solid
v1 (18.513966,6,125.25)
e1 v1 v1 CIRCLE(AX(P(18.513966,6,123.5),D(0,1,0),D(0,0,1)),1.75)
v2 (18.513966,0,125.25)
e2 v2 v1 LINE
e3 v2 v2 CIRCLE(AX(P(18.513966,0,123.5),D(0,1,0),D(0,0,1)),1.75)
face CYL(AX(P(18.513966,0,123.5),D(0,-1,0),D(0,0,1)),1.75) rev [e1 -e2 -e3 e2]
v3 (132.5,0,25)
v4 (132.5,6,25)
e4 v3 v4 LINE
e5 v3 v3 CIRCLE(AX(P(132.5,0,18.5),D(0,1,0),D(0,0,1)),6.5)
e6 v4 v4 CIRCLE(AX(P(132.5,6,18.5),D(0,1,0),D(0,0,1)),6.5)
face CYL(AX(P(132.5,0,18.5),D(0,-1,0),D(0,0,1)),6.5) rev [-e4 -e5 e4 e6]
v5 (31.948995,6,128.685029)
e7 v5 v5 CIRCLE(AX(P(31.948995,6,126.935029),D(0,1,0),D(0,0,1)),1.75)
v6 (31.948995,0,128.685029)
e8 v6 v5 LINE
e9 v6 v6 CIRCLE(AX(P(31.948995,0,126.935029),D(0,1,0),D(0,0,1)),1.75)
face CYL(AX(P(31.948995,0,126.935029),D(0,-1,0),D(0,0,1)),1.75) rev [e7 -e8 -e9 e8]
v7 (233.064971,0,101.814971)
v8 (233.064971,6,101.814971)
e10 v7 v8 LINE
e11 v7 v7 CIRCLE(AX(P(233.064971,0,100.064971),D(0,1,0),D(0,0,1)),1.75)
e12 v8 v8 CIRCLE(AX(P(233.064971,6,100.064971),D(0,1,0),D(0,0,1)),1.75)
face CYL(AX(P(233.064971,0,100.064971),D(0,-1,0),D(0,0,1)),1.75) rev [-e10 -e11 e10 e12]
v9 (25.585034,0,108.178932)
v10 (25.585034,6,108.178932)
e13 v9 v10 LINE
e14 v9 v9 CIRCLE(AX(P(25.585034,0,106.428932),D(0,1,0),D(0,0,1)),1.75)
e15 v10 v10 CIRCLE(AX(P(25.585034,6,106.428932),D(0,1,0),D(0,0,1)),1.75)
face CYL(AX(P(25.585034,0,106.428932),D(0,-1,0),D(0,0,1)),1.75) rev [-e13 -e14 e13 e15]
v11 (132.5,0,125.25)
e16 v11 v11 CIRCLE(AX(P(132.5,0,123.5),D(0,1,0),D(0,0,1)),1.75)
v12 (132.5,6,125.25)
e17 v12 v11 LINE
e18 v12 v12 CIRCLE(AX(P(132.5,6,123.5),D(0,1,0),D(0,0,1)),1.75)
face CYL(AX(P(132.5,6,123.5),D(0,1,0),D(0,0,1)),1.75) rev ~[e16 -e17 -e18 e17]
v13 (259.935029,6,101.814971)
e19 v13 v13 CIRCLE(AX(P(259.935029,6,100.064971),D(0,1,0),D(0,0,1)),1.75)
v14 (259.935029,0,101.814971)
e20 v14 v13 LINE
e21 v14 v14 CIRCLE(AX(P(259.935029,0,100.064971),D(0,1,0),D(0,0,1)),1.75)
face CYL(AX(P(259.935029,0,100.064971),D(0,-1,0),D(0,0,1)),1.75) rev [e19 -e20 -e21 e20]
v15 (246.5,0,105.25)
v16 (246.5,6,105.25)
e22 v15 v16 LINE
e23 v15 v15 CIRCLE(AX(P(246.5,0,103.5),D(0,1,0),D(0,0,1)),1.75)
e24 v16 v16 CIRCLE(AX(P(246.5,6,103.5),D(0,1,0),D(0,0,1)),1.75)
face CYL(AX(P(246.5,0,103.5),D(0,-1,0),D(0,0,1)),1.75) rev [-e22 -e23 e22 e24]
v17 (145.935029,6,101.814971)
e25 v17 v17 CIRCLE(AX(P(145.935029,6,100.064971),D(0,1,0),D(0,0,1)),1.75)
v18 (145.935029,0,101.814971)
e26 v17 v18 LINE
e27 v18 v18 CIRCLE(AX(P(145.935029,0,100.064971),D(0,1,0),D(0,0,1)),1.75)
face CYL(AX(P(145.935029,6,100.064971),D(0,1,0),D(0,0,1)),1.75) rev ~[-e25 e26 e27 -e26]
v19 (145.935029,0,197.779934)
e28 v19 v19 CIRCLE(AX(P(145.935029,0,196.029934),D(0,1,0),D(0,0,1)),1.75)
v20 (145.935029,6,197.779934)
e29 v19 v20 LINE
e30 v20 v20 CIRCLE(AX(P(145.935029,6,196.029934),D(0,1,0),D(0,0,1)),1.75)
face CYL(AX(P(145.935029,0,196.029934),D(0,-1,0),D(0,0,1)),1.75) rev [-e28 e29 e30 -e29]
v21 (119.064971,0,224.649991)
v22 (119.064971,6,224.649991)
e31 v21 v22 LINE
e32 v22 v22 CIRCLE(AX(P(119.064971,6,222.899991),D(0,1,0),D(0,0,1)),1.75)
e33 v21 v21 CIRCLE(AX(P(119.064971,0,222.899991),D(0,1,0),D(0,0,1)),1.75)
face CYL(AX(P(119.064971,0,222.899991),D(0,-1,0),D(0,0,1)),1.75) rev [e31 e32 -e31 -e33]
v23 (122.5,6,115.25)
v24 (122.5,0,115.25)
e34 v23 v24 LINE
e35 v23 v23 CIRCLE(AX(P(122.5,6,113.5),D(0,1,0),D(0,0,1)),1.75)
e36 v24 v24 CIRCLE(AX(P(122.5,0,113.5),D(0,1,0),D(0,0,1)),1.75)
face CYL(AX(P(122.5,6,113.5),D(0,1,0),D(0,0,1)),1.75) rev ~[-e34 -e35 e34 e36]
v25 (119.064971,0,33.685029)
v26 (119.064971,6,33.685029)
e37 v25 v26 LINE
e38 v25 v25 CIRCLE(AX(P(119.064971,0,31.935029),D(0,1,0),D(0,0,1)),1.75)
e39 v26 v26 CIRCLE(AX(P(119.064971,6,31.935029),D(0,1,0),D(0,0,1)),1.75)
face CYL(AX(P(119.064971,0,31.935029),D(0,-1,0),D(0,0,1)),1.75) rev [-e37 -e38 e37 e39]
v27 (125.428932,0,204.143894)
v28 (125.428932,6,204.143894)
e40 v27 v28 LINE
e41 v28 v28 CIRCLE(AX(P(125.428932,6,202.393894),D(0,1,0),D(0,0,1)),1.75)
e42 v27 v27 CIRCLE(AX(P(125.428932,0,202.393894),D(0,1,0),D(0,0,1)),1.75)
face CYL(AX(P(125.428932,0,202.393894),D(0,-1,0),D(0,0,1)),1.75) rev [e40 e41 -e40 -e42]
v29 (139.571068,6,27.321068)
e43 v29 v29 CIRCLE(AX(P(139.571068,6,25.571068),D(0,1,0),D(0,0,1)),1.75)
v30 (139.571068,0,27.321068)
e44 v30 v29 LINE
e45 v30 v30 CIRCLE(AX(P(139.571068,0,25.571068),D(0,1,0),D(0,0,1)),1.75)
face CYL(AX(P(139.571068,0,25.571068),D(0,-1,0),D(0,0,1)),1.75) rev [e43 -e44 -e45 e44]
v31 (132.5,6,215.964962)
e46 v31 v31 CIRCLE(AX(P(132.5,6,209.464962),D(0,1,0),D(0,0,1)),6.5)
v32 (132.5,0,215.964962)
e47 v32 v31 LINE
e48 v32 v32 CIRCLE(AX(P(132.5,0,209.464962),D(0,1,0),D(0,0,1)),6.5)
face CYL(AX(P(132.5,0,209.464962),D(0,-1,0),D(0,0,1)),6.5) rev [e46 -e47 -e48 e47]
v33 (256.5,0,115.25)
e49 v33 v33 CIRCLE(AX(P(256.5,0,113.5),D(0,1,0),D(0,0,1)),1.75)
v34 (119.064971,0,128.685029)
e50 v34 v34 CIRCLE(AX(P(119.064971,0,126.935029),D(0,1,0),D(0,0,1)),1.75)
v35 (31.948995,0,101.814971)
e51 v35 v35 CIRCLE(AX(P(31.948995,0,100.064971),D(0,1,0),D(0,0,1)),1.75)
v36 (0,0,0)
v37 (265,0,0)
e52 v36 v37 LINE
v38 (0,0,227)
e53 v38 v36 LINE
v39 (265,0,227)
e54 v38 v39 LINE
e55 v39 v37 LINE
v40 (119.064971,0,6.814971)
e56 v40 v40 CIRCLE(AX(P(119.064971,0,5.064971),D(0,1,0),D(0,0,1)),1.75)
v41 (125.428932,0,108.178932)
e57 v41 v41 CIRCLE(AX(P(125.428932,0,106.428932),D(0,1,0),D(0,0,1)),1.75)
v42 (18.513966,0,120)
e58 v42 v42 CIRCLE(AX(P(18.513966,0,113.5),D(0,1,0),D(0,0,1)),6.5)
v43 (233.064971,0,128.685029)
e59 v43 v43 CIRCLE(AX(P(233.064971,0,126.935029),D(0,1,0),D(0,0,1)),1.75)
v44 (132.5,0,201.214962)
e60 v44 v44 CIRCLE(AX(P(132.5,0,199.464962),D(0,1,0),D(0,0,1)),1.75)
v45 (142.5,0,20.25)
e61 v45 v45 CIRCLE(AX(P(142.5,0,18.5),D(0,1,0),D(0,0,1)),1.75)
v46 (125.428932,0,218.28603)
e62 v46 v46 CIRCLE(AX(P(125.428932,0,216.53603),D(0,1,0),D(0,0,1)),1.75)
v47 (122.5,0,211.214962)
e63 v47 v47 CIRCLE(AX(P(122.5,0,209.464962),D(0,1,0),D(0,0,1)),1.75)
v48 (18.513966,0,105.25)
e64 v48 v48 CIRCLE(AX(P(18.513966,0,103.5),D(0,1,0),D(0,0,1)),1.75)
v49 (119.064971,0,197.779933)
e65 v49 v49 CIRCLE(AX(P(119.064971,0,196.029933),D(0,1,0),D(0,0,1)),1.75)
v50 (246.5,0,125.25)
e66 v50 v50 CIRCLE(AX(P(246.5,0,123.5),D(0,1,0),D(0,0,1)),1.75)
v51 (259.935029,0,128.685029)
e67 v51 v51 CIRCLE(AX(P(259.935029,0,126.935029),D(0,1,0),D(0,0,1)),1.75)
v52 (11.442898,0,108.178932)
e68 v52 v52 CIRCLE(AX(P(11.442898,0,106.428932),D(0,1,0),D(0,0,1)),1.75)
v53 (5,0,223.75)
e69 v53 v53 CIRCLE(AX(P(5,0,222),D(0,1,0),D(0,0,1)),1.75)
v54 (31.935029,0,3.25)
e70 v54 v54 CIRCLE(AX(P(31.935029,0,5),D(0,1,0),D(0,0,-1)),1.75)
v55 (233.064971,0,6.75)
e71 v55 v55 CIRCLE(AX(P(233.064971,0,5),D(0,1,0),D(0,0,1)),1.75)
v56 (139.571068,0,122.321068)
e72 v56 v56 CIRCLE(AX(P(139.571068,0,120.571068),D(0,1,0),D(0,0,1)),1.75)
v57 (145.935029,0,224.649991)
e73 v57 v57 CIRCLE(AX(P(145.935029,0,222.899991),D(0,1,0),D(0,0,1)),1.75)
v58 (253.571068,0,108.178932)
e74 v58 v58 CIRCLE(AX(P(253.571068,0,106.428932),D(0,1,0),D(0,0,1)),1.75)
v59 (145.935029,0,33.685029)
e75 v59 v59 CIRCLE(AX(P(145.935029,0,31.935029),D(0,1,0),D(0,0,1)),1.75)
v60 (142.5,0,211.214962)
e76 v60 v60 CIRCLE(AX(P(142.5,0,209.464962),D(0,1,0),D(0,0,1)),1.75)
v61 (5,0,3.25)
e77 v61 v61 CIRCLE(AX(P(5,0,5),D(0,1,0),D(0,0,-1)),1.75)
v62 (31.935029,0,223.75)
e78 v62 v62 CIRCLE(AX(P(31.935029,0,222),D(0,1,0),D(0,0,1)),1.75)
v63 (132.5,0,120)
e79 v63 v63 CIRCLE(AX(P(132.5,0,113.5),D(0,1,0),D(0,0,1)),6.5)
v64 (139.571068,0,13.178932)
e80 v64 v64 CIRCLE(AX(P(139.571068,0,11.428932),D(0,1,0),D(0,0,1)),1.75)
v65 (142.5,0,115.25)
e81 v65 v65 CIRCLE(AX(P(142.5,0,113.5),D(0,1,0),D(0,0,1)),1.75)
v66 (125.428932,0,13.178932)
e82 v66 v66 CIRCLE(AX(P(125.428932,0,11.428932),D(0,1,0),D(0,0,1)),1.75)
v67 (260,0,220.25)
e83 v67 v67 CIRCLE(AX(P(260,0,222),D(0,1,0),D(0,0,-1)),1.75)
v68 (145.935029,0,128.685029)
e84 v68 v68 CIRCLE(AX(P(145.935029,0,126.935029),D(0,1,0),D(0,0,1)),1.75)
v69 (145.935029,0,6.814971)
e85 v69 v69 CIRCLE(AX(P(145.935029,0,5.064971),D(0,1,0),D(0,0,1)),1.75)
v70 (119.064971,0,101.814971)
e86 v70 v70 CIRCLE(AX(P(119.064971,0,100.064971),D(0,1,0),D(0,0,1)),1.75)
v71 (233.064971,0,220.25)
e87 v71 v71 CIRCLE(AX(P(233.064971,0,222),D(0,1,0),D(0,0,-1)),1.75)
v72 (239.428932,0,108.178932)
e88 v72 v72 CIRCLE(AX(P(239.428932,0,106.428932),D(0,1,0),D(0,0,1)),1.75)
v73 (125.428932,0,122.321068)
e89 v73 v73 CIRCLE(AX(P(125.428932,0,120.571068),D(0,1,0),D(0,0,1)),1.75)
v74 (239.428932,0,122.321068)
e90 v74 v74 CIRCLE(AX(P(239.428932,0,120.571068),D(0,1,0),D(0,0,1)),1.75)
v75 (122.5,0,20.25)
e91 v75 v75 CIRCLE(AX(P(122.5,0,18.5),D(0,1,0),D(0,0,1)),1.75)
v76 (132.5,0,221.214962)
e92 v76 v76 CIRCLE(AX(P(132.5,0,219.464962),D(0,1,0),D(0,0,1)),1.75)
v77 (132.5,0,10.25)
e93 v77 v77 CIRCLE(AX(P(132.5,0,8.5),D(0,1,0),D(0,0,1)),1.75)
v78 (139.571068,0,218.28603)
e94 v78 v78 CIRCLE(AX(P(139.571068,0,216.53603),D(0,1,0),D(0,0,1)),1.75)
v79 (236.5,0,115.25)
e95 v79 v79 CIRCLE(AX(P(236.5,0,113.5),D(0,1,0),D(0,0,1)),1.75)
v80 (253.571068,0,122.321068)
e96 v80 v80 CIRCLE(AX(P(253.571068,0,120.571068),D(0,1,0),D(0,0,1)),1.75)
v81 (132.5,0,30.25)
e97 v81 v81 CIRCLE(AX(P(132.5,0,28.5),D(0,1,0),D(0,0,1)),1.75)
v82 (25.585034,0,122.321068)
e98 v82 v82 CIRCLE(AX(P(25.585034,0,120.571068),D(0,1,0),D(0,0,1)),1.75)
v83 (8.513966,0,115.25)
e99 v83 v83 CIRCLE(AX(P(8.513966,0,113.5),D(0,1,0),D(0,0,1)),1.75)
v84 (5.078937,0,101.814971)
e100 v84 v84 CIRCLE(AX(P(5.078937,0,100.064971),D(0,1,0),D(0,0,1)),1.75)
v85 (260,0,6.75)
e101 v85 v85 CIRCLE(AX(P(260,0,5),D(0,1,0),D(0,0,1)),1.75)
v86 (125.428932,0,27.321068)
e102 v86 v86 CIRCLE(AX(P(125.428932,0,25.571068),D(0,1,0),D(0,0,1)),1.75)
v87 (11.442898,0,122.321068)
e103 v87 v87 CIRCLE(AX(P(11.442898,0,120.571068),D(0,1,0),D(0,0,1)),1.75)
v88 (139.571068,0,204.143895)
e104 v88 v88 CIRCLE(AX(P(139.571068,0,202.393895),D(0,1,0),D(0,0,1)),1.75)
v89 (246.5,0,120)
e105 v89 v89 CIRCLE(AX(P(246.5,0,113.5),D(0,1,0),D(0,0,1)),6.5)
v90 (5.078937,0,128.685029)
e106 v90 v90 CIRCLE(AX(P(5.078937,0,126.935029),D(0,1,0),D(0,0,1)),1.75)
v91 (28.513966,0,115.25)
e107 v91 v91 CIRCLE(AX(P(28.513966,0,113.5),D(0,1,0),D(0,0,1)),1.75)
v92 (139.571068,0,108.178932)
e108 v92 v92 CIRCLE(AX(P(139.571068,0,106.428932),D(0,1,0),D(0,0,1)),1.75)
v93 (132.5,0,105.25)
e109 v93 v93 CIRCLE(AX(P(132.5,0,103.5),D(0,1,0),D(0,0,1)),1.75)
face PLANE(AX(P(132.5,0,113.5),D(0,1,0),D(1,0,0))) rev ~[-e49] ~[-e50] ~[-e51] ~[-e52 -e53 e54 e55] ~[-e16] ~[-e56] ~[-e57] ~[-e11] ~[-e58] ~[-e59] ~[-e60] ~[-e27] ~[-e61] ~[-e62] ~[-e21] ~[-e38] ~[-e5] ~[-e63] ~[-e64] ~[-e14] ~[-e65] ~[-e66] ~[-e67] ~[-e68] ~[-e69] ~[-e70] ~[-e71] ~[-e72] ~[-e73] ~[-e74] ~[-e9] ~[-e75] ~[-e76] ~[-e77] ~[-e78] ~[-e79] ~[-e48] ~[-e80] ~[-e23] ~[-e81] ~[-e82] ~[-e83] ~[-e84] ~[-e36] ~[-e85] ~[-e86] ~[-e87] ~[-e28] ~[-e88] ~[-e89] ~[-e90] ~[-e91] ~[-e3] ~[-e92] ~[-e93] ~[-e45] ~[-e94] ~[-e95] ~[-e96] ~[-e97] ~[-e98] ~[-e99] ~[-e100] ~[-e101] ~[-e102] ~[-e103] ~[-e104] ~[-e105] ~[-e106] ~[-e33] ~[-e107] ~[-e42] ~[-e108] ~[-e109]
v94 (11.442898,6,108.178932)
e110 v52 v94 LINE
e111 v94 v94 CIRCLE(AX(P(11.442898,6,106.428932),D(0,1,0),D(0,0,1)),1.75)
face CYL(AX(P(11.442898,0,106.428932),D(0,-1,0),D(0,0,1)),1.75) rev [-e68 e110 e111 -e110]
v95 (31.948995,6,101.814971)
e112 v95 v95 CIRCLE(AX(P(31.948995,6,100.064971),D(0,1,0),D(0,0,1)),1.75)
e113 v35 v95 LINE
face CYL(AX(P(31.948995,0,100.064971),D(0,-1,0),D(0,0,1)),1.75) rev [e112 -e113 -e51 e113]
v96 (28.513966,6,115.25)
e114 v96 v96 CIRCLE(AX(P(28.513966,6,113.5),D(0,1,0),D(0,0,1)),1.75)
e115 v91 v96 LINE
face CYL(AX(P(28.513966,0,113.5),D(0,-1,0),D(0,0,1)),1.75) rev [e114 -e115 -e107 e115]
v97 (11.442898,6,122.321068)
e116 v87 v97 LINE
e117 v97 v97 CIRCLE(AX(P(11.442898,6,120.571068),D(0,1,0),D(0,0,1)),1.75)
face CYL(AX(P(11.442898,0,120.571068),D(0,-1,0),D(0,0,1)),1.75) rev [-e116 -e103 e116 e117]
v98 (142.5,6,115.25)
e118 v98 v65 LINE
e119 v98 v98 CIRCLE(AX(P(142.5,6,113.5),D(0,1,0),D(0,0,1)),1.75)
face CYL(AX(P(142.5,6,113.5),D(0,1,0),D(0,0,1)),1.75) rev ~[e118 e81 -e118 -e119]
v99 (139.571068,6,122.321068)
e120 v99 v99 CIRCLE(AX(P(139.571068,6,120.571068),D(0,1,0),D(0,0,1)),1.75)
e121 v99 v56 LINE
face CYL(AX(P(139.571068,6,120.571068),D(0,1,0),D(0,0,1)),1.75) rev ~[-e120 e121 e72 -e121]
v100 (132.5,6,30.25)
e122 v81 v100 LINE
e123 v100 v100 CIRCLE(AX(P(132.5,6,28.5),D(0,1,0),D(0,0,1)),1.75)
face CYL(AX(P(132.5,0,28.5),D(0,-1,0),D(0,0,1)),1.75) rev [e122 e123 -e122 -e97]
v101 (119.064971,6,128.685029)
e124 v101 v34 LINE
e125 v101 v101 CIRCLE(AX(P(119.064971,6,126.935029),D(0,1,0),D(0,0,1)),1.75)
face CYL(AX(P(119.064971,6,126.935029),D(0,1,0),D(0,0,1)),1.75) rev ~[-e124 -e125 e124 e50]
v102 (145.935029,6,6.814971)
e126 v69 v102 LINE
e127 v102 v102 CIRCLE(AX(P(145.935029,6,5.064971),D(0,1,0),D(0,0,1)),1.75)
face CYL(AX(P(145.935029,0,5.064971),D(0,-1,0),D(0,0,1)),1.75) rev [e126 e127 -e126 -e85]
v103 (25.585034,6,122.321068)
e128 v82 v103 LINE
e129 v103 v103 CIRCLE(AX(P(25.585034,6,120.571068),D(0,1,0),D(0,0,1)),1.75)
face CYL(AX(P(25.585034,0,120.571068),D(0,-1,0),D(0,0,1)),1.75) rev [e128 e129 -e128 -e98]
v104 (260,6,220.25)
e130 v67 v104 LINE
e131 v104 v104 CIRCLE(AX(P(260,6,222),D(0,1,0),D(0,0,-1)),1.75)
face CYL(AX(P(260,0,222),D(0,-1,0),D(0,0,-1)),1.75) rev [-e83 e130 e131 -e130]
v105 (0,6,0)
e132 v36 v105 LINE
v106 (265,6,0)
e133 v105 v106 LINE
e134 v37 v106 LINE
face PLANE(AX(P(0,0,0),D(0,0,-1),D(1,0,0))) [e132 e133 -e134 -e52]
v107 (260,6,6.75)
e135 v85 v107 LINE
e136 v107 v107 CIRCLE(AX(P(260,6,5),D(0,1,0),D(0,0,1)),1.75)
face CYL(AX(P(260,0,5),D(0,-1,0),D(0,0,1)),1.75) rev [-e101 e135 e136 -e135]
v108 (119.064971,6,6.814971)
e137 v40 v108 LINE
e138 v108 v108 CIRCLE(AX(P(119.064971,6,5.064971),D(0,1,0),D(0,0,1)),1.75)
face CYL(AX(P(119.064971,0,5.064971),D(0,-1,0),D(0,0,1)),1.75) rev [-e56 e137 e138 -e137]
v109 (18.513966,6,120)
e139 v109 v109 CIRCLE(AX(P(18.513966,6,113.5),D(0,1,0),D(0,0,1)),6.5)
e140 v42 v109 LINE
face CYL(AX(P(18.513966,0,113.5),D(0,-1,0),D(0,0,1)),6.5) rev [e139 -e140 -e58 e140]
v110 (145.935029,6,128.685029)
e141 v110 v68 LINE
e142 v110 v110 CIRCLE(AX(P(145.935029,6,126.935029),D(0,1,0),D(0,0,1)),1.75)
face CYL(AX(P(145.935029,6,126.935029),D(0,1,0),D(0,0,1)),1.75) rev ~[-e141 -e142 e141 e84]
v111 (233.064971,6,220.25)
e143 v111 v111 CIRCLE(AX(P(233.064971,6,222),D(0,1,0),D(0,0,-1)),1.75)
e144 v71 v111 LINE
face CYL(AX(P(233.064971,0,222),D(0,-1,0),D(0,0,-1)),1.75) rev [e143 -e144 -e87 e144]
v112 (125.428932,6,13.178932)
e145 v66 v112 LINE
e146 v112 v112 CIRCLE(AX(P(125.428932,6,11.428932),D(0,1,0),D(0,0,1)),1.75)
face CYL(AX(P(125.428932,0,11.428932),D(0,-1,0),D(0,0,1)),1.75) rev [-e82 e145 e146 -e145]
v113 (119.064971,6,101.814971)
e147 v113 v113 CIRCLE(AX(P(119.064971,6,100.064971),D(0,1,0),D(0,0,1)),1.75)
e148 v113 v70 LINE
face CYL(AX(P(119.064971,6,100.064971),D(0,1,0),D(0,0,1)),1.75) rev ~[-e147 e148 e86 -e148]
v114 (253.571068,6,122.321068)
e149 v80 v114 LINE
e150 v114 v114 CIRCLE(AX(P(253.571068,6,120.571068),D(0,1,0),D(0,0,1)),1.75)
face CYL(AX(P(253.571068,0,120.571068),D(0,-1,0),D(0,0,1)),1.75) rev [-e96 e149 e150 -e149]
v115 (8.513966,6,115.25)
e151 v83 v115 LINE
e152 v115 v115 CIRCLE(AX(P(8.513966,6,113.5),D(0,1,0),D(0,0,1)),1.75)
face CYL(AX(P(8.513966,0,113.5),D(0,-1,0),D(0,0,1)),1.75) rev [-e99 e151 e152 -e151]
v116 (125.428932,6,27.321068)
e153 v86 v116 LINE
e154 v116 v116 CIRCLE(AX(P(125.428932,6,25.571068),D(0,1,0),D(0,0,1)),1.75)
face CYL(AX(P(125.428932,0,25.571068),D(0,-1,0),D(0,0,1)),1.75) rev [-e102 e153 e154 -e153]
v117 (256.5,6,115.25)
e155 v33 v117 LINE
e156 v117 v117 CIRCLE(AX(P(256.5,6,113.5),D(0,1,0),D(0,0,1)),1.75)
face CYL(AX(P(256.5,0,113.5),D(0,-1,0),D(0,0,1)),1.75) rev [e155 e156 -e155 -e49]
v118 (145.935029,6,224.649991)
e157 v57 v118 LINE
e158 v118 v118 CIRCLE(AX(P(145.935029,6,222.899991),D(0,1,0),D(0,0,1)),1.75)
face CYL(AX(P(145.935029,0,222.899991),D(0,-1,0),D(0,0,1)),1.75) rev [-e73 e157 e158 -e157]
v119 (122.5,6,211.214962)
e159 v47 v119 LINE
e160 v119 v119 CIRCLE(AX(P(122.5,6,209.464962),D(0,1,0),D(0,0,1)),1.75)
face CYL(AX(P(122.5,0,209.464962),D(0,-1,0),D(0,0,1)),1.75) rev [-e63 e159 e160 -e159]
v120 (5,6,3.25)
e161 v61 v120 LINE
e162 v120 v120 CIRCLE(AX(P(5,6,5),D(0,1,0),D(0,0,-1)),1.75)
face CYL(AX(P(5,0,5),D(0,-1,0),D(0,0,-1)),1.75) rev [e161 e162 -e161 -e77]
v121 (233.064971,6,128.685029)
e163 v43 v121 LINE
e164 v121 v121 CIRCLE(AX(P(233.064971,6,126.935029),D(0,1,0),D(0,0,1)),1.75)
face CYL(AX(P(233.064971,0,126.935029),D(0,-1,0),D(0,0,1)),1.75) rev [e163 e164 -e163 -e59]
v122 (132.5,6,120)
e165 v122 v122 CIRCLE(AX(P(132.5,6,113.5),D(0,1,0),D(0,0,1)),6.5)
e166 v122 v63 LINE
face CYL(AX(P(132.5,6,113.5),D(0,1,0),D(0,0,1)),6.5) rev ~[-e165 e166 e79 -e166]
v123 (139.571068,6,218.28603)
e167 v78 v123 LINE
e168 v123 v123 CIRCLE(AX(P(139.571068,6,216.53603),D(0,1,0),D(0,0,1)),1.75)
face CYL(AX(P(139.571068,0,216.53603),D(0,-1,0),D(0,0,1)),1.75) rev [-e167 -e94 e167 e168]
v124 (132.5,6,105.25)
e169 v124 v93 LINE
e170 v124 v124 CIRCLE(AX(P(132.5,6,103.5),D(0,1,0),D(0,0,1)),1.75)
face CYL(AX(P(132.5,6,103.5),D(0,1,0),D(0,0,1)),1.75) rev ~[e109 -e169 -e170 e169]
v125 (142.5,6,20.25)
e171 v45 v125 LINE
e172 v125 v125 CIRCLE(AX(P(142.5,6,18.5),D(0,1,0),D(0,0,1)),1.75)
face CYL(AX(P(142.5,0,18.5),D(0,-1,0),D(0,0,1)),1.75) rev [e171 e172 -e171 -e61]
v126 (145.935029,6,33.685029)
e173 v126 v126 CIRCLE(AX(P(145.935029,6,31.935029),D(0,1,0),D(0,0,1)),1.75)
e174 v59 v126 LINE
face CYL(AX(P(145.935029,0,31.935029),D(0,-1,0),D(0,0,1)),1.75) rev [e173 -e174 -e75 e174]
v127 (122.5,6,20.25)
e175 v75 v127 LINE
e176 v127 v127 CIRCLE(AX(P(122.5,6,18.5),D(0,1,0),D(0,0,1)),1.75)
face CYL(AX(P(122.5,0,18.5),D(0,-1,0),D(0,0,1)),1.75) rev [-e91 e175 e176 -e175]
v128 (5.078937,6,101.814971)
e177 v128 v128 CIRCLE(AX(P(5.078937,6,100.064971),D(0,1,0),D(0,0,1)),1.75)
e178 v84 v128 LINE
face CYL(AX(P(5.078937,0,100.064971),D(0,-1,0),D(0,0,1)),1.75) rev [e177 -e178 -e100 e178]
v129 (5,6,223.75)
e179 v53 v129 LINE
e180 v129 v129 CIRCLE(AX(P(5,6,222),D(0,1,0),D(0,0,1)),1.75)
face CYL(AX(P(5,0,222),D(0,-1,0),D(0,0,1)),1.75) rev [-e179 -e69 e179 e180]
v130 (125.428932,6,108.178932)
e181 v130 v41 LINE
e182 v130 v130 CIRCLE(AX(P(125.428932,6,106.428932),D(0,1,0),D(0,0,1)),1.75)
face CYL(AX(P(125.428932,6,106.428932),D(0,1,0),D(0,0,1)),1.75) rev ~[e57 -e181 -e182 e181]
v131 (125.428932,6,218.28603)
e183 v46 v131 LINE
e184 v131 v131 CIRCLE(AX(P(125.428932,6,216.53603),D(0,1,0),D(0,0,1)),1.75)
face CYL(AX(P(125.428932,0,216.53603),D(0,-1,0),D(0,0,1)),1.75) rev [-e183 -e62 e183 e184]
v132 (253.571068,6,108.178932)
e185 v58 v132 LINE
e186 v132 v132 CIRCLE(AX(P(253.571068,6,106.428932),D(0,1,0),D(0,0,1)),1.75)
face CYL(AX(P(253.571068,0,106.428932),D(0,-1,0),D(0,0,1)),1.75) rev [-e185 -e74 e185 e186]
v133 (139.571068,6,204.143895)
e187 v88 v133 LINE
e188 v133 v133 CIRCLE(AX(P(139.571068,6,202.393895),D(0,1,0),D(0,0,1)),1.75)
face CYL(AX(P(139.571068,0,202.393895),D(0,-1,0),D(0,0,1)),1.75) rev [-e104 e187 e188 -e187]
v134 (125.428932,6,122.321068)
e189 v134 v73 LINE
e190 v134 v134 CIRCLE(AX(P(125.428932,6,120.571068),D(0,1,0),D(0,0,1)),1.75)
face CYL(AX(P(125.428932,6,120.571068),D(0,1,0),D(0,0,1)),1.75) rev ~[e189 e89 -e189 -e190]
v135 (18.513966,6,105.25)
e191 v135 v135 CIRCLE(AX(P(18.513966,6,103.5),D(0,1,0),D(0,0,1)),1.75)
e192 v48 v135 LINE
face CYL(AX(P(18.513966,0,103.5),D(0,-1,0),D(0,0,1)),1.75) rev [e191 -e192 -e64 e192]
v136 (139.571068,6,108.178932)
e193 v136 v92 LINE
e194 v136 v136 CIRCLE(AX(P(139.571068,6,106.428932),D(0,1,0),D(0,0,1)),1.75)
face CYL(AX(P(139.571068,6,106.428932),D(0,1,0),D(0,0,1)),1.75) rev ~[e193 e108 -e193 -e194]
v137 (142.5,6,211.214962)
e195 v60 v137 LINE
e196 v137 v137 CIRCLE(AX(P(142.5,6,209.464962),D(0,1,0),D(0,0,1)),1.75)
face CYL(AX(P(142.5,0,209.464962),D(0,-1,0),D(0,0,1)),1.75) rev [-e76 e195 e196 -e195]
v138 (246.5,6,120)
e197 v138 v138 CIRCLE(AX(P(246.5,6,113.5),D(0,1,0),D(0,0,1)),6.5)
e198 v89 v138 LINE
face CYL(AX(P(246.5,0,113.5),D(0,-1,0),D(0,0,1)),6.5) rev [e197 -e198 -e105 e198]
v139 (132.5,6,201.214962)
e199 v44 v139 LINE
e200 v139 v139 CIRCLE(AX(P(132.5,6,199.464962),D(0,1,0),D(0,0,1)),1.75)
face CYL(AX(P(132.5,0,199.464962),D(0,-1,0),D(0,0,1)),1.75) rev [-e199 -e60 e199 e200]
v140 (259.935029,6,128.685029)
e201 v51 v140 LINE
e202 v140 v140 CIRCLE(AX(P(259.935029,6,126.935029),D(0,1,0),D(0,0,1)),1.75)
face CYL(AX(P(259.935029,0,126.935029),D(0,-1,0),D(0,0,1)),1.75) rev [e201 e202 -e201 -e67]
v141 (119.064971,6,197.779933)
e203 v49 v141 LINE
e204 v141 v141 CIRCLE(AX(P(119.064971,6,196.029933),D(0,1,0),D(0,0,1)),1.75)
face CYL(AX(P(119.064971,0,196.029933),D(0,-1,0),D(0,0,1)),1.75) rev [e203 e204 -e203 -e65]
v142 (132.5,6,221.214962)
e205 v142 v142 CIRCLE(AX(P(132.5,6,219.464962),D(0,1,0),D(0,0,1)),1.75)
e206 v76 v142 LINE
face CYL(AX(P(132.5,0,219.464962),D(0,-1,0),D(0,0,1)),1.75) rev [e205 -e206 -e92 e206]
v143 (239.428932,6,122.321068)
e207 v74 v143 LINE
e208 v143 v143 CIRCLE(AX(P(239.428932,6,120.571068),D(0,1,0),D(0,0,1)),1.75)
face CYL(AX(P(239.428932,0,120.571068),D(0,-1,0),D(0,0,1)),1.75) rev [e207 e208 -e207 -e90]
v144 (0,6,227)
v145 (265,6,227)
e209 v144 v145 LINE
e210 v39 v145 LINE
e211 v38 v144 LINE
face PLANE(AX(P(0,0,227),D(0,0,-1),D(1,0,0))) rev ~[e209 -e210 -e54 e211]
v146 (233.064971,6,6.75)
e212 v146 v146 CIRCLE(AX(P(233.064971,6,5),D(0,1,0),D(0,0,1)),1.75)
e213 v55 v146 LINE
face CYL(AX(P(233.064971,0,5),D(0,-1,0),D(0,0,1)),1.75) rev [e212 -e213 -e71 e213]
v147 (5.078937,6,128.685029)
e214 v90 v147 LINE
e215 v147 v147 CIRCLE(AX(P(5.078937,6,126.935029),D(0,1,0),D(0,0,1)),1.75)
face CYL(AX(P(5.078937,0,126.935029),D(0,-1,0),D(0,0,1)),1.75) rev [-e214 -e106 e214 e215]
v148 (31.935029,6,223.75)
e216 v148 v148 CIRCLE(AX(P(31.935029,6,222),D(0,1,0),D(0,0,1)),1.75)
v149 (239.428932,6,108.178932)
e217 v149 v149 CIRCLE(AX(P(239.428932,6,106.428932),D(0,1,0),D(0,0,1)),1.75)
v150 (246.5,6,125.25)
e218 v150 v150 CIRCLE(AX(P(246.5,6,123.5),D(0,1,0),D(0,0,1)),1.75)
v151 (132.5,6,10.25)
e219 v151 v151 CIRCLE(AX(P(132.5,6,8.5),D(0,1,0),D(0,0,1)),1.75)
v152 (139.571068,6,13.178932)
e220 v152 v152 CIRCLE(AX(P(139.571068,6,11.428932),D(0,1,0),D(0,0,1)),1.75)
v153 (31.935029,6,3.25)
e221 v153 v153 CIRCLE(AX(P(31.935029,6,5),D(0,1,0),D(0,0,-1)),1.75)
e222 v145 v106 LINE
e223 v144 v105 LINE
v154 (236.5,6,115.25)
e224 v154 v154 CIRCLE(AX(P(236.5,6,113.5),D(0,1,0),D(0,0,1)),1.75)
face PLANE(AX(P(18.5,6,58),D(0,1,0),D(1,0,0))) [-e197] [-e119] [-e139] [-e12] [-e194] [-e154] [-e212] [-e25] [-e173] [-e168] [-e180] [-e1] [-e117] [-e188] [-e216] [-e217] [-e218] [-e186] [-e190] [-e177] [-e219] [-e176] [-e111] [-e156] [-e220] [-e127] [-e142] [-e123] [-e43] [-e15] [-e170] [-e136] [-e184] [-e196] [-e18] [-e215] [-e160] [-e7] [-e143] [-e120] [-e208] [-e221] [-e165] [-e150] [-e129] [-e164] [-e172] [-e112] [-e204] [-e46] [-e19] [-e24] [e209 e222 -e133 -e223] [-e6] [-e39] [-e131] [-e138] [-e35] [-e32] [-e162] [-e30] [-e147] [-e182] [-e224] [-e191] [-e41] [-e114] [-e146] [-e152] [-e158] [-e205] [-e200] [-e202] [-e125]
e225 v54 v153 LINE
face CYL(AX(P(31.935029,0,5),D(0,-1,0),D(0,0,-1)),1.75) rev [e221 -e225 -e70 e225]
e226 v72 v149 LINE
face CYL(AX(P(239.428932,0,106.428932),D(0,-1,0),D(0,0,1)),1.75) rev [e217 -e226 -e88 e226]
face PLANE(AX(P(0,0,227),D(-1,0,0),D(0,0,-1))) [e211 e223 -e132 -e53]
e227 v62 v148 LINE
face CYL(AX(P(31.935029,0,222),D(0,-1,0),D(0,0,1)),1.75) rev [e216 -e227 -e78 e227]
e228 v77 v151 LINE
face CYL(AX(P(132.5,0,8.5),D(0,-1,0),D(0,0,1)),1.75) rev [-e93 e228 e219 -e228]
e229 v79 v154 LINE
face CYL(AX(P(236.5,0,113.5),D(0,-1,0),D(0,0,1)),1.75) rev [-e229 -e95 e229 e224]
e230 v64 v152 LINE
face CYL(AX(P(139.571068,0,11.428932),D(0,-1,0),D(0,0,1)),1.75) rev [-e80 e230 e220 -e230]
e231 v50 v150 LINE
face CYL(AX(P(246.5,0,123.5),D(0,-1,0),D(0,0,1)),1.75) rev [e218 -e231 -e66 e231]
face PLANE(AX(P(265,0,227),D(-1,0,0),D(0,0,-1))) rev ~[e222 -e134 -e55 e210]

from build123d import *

# Parameters (mm, degrees)
ESQUISSE1_W        = 265
ESQUISSE1_H        = 227
ESQUISSE1_R        = 6.5
ESQUISSE1_R_2      = 1.75
ESQUISSE1_R_3      = 1.749999999
ESQUISSE1_W_2      = 191
ESQUISSE1_H_2      = 156.859849262
ESQUISSE1_W_3      = 17
ESQUISSE1_H_3      = 80
BOSS_EXTRU_1_DEPTH = 6
ESQUISSE2_W        = 17
ESQUISSE2_H        = 80
ESQUISSE2_W_2      = 191
ESQUISSE2_H_2      = 156.859849262
ESQUISSE2_R        = 6.5
ESQUISSE2_R_2      = 1.75
ESQUISSE2_R_3      = 1.749999999
BOSS_EXTRU_3_DEPTH = 6


with BuildPart() as part:
    # Esquisse1 → Boss.-Extru.1 (new body)
    with BuildSketch(Plane(origin=(0, 0, 0), x_dir=(1, 0, 0), z_dir=(0, 1, 0))):
        with Locations((132.5, -113.5)):
            Rectangle(ESQUISSE1_W, ESQUISSE1_H)
        with Locations(Location((246.5, -113.5, 0), (0, 0, 270))):
            Circle(ESQUISSE1_R, mode=Mode.SUBTRACT)
        with Locations(Location((246.5, -103.5, 0), (0, 0, 270))):
            Circle(ESQUISSE1_R_2, mode=Mode.SUBTRACT)
        with Locations(Location((253.571068024, -106.4289324, 0), (0, 0, 270))):
            Circle(ESQUISSE1_R_2, mode=Mode.SUBTRACT)
        with Locations(Location((256.5, -113.5, 0), (0, 0, 270))):
            Circle(ESQUISSE1_R_2, mode=Mode.SUBTRACT)
        with Locations(Location((253.571067812, -120.571067812, 0), (0, 0, 270))):
            Circle(ESQUISSE1_R_2, mode=Mode.SUBTRACT)
        with Locations(Location((246.5, -123.5, 0), (0, 0, 270))):
            Circle(ESQUISSE1_R_2, mode=Mode.SUBTRACT)
        with Locations(Location((239.428932188, -120.571067812, 0), (0, 0, 270))):
            Circle(ESQUISSE1_R_2, mode=Mode.SUBTRACT)
        with Locations(Location((236.5, -113.5, 0), (0, 0, 270))):
            Circle(ESQUISSE1_R_2, mode=Mode.SUBTRACT)
        with Locations(Location((239.42893238, -106.428931957, 0), (0, 0, 270))):
            Circle(ESQUISSE1_R_3, mode=Mode.SUBTRACT)
        with Locations(Location((259.935029054, -100.064971369, 0), (0, 0, 270))):
            Circle(ESQUISSE1_R_2, mode=Mode.SUBTRACT)
        with Locations(Location((259.935028843, -126.935028843, 0), (0, 0, 270))):
            Circle(ESQUISSE1_R_2, mode=Mode.SUBTRACT)
        with Locations(Location((233.064971369, -100.064970946, 0), (0, 0, 270))):
            Circle(ESQUISSE1_R_2, mode=Mode.SUBTRACT)
        with Locations(Location((233.064971157, -126.935028843, 0), (0, 0, 270))):
            Circle(ESQUISSE1_R_2, mode=Mode.SUBTRACT)
        with Locations(Location((132.5, -209.464962315, 0), (0, 0, 270))):
            Circle(ESQUISSE1_R, mode=Mode.SUBTRACT)
        with Locations(Location((132.5, -199.464962315, 0), (0, 0, 270))):
            Circle(ESQUISSE1_R_2, mode=Mode.SUBTRACT)
        with Locations(Location((139.571068024, -202.393894715, 0), (0, 0, 270))):
            Circle(ESQUISSE1_R_2, mode=Mode.SUBTRACT)
        with Locations(Location((142.5, -209.464962315, 0), (0, 0, 270))):
            Circle(ESQUISSE1_R_2, mode=Mode.SUBTRACT)
        with Locations(Location((139.571067812, -216.536030127, 0), (0, 0, 270))):
            Circle(ESQUISSE1_R_2, mode=Mode.SUBTRACT)
        with Locations(Location((132.5, -219.464962315, 0), (0, 0, 270))):
            Circle(ESQUISSE1_R_2, mode=Mode.SUBTRACT)
        with Locations(Location((125.428932188, -216.536030127, 0), (0, 0, 270))):
            Circle(ESQUISSE1_R_2, mode=Mode.SUBTRACT)
        with Locations(Location((122.5, -209.464962315, 0), (0, 0, 270))):
            Circle(ESQUISSE1_R_2, mode=Mode.SUBTRACT)
        with Locations(Location((125.42893238, -202.393894272, 0), (0, 0, 270))):
            Circle(ESQUISSE1_R_3, mode=Mode.SUBTRACT)
        with Locations(Location((145.935029054, -196.029933685, 0), (0, 0, 270))):
            Circle(ESQUISSE1_R_2, mode=Mode.SUBTRACT)
        with Locations(Location((145.935028843, -222.899991158, 0), (0, 0, 270))):
            Circle(ESQUISSE1_R_2, mode=Mode.SUBTRACT)
        with Locations(Location((119.064971369, -196.029933261, 0), (0, 0, 270))):
            Circle(ESQUISSE1_R_2, mode=Mode.SUBTRACT)
        with Locations(Location((119.064971157, -222.899991158, 0), (0, 0, 270))):
            Circle(ESQUISSE1_R_2, mode=Mode.SUBTRACT)
        with Locations(Location((18.513965978, -113.5, 0), (0, 0, 270))):
            Circle(ESQUISSE1_R, mode=Mode.SUBTRACT)
        with Locations(Location((18.513965978, -103.5, 0), (0, 0, 270))):
            Circle(ESQUISSE1_R_2, mode=Mode.SUBTRACT)
        with Locations(Location((25.585034002, -106.4289324, 0), (0, 0, 270))):
            Circle(ESQUISSE1_R_2, mode=Mode.SUBTRACT)
        with Locations(Location((28.513965978, -113.5, 0), (0, 0, 270))):
            Circle(ESQUISSE1_R_2, mode=Mode.SUBTRACT)
        with Locations(Location((25.58503379, -120.571067812, 0), (0, 0, 270))):
            Circle(ESQUISSE1_R_2, mode=Mode.SUBTRACT)
        with Locations(Location((18.513965978, -123.5, 0), (0, 0, 270))):
            Circle(ESQUISSE1_R_2, mode=Mode.SUBTRACT)
        with Locations(Location((11.442898166, -120.571067812, 0), (0, 0, 270))):
            Circle(ESQUISSE1_R_2, mode=Mode.SUBTRACT)
        with Locations(Location((8.513965978, -113.5, 0), (0, 0, 270))):
            Circle(ESQUISSE1_R_2, mode=Mode.SUBTRACT)
        with Locations(Location((11.442898358, -106.428931957, 0), (0, 0, 270))):
            Circle(ESQUISSE1_R_3, mode=Mode.SUBTRACT)
        with Locations(Location((31.948995033, -100.064971369, 0), (0, 0, 270))):
            Circle(ESQUISSE1_R_2, mode=Mode.SUBTRACT)
        with Locations(Location((31.948994821, -126.935028843, 0), (0, 0, 270))):
            Circle(ESQUISSE1_R_2, mode=Mode.SUBTRACT)
        with Locations(Location((5.078937347, -100.064970946, 0), (0, 0, 270))):
            Circle(ESQUISSE1_R_2, mode=Mode.SUBTRACT)
        with Locations(Location((5.078937136, -126.935028843, 0), (0, 0, 270))):
            Circle(ESQUISSE1_R_2, mode=Mode.SUBTRACT)
        with Locations(Location((132.5, -18.5, 0), (0, 0, 270))):
            Circle(ESQUISSE1_R, mode=Mode.SUBTRACT)
        with Locations(Location((132.5, -8.5, 0), (0, 0, 270))):
            Circle(ESQUISSE1_R_2, mode=Mode.SUBTRACT)
        with Locations(Location((139.571068024, -11.4289324, 0), (0, 0, 270))):
            Circle(ESQUISSE1_R_2, mode=Mode.SUBTRACT)
        with Locations(Location((142.5, -18.5, 0), (0, 0, 270))):
            Circle(ESQUISSE1_R_2, mode=Mode.SUBTRACT)
        with Locations(Location((139.571067812, -25.571067812, 0), (0, 0, 270))):
            Circle(ESQUISSE1_R_2, mode=Mode.SUBTRACT)
        with Locations(Location((132.5, -28.5, 0), (0, 0, 270))):
            Circle(ESQUISSE1_R_2, mode=Mode.SUBTRACT)
        with Locations(Location((125.428932188, -25.571067812, 0), (0, 0, 270))):
            Circle(ESQUISSE1_R_2, mode=Mode.SUBTRACT)
        with Locations(Location((122.5, -18.5, 0), (0, 0, 270))):
            Circle(ESQUISSE1_R_2, mode=Mode.SUBTRACT)
        with Locations(Location((125.42893238, -11.428931957, 0), (0, 0, 270))):
            Circle(ESQUISSE1_R_3, mode=Mode.SUBTRACT)
        with Locations(Location((145.935029054, -5.064971369, 0), (0, 0, 270))):
            Circle(ESQUISSE1_R_2, mode=Mode.SUBTRACT)
        with Locations(Location((145.935028843, -31.935028843, 0), (0, 0, 270))):
            Circle(ESQUISSE1_R_2, mode=Mode.SUBTRACT)
        with Locations(Location((119.064971369, -5.064970946, 0), (0, 0, 270))):
            Circle(ESQUISSE1_R_2, mode=Mode.SUBTRACT)
        with Locations(Location((119.064971157, -31.935028843, 0), (0, 0, 270))):
            Circle(ESQUISSE1_R_2, mode=Mode.SUBTRACT)
        with Locations(Location((260, -5, 0), (0, 0, 270))):
            Circle(ESQUISSE1_R_2, mode=Mode.SUBTRACT)
        with Locations(Location((233.064971369, -5, 0), (0, 0, 270))):
            Circle(ESQUISSE1_R_2, mode=Mode.SUBTRACT)
        with Locations(Location((260, -222, 0), (0, 0, 90))):
            Circle(ESQUISSE1_R_2, mode=Mode.SUBTRACT)
        with Locations(Location((233.064971369, -222, 0), (0, 0, 90))):
            Circle(ESQUISSE1_R_2, mode=Mode.SUBTRACT)
        with Locations(Location((5, -5, 0), (0, 0, 90))):
            Circle(ESQUISSE1_R_2, mode=Mode.SUBTRACT)
        with Locations(Location((31.935028631, -5, 0), (0, 0, 90))):
            Circle(ESQUISSE1_R_2, mode=Mode.SUBTRACT)
        with Locations(Location((5, -222, 0), (0, 0, 270))):
            Circle(ESQUISSE1_R_2, mode=Mode.SUBTRACT)
        with Locations(Location((31.935028631, -222, 0), (0, 0, 270))):
            Circle(ESQUISSE1_R_2, mode=Mode.SUBTRACT)
        with Locations((132.5, -113.5)):
            Rectangle(ESQUISSE1_W_2, ESQUISSE1_H_2, mode=Mode.SUBTRACT)
        with Locations((246.5, -58)):
            Rectangle(ESQUISSE1_W_3, ESQUISSE1_H_3, mode=Mode.SUBTRACT)
        with Locations((246.5, -169)):
            Rectangle(ESQUISSE1_W_3, ESQUISSE1_H_3, mode=Mode.SUBTRACT)
        with Locations((18.5, -58)):
            Rectangle(ESQUISSE1_W_3, ESQUISSE1_H_3, mode=Mode.SUBTRACT)
        with Locations((18.5, -169)):
            Rectangle(ESQUISSE1_W_3, ESQUISSE1_H_3, mode=Mode.SUBTRACT)
    extrude(amount=BOSS_EXTRU_1_DEPTH)

    # Esquisse2 → Boss.-Extru.3 (add)
    # profile 1 of 5: a face of its own
    with BuildSketch(Plane(origin=(0, 6, 0), x_dir=(1, 0, 0), z_dir=(0, 1, 0))):
        with Locations((18.5, -58)):
            Rectangle(ESQUISSE2_W, ESQUISSE2_H)
    # profile 2 of 5: a face of its own
    with BuildSketch(Plane(origin=(0, 6, 0), x_dir=(1, 0, 0), z_dir=(0, 1, 0))):
        with Locations((132.5, -113.5)):
            Rectangle(ESQUISSE2_W_2, ESQUISSE2_H_2)
        with Locations(Location((132.5, -113.5, 0), (0, 0, 270))):
            Circle(ESQUISSE2_R, mode=Mode.SUBTRACT)
        with Locations(Location((132.5, -103.5, 0), (0, 0, 270))):
            Circle(ESQUISSE2_R_2, mode=Mode.SUBTRACT)
        with Locations(Location((139.571068024, -106.4289324, 0), (0, 0, 270))):
            Circle(ESQUISSE2_R_2, mode=Mode.SUBTRACT)
        with Locations(Location((142.5, -113.5, 0), (0, 0, 270))):
            Circle(ESQUISSE2_R_2, mode=Mode.SUBTRACT)
        with Locations(Location((139.571067812, -120.571067812, 0), (0, 0, 270))):
            Circle(ESQUISSE2_R_2, mode=Mode.SUBTRACT)
        with Locations(Location((132.5, -123.5, 0), (0, 0, 270))):
            Circle(ESQUISSE2_R_2, mode=Mode.SUBTRACT)
        with Locations(Location((125.428932188, -120.571067812, 0), (0, 0, 270))):
            Circle(ESQUISSE2_R_2, mode=Mode.SUBTRACT)
        with Locations(Location((122.5, -113.5, 0), (0, 0, 270))):
            Circle(ESQUISSE2_R_2, mode=Mode.SUBTRACT)
        with Locations(Location((125.42893238, -106.428931957, 0), (0, 0, 270))):
            Circle(ESQUISSE2_R_3, mode=Mode.SUBTRACT)
        with Locations(Location((145.935029054, -100.064971369, 0), (0, 0, 270))):
            Circle(ESQUISSE2_R_2, mode=Mode.SUBTRACT)
        with Locations(Location((145.935028843, -126.935028843, 0), (0, 0, 270))):
            Circle(ESQUISSE2_R_2, mode=Mode.SUBTRACT)
        with Locations(Location((119.064971369, -100.064970946, 0), (0, 0, 270))):
            Circle(ESQUISSE2_R_2, mode=Mode.SUBTRACT)
        with Locations(Location((119.064971157, -126.935028843, 0), (0, 0, 270))):
            Circle(ESQUISSE2_R_2, mode=Mode.SUBTRACT)
    # profile 3 of 5: a face of its own
    with BuildSketch(Plane(origin=(0, 6, 0), x_dir=(1, 0, 0), z_dir=(0, 1, 0))):
        with Locations((246.5, -58)):
            Rectangle(ESQUISSE2_W, ESQUISSE2_H)
    # profile 4 of 5: a face of its own
    with BuildSketch(Plane(origin=(0, 6, 0), x_dir=(1, 0, 0), z_dir=(0, 1, 0))):
        with Locations((246.5, -169)):
            Rectangle(ESQUISSE2_W, ESQUISSE2_H)
    # profile 5 of 5: a face of its own
    with BuildSketch(Plane(origin=(0, 6, 0), x_dir=(1, 0, 0), z_dir=(0, 1, 0))):
        with Locations((18.5, -169)):
            Rectangle(ESQUISSE2_W, ESQUISSE2_H)
    extrude(amount=-BOSS_EXTRU_3_DEPTH)


solid = part.part
